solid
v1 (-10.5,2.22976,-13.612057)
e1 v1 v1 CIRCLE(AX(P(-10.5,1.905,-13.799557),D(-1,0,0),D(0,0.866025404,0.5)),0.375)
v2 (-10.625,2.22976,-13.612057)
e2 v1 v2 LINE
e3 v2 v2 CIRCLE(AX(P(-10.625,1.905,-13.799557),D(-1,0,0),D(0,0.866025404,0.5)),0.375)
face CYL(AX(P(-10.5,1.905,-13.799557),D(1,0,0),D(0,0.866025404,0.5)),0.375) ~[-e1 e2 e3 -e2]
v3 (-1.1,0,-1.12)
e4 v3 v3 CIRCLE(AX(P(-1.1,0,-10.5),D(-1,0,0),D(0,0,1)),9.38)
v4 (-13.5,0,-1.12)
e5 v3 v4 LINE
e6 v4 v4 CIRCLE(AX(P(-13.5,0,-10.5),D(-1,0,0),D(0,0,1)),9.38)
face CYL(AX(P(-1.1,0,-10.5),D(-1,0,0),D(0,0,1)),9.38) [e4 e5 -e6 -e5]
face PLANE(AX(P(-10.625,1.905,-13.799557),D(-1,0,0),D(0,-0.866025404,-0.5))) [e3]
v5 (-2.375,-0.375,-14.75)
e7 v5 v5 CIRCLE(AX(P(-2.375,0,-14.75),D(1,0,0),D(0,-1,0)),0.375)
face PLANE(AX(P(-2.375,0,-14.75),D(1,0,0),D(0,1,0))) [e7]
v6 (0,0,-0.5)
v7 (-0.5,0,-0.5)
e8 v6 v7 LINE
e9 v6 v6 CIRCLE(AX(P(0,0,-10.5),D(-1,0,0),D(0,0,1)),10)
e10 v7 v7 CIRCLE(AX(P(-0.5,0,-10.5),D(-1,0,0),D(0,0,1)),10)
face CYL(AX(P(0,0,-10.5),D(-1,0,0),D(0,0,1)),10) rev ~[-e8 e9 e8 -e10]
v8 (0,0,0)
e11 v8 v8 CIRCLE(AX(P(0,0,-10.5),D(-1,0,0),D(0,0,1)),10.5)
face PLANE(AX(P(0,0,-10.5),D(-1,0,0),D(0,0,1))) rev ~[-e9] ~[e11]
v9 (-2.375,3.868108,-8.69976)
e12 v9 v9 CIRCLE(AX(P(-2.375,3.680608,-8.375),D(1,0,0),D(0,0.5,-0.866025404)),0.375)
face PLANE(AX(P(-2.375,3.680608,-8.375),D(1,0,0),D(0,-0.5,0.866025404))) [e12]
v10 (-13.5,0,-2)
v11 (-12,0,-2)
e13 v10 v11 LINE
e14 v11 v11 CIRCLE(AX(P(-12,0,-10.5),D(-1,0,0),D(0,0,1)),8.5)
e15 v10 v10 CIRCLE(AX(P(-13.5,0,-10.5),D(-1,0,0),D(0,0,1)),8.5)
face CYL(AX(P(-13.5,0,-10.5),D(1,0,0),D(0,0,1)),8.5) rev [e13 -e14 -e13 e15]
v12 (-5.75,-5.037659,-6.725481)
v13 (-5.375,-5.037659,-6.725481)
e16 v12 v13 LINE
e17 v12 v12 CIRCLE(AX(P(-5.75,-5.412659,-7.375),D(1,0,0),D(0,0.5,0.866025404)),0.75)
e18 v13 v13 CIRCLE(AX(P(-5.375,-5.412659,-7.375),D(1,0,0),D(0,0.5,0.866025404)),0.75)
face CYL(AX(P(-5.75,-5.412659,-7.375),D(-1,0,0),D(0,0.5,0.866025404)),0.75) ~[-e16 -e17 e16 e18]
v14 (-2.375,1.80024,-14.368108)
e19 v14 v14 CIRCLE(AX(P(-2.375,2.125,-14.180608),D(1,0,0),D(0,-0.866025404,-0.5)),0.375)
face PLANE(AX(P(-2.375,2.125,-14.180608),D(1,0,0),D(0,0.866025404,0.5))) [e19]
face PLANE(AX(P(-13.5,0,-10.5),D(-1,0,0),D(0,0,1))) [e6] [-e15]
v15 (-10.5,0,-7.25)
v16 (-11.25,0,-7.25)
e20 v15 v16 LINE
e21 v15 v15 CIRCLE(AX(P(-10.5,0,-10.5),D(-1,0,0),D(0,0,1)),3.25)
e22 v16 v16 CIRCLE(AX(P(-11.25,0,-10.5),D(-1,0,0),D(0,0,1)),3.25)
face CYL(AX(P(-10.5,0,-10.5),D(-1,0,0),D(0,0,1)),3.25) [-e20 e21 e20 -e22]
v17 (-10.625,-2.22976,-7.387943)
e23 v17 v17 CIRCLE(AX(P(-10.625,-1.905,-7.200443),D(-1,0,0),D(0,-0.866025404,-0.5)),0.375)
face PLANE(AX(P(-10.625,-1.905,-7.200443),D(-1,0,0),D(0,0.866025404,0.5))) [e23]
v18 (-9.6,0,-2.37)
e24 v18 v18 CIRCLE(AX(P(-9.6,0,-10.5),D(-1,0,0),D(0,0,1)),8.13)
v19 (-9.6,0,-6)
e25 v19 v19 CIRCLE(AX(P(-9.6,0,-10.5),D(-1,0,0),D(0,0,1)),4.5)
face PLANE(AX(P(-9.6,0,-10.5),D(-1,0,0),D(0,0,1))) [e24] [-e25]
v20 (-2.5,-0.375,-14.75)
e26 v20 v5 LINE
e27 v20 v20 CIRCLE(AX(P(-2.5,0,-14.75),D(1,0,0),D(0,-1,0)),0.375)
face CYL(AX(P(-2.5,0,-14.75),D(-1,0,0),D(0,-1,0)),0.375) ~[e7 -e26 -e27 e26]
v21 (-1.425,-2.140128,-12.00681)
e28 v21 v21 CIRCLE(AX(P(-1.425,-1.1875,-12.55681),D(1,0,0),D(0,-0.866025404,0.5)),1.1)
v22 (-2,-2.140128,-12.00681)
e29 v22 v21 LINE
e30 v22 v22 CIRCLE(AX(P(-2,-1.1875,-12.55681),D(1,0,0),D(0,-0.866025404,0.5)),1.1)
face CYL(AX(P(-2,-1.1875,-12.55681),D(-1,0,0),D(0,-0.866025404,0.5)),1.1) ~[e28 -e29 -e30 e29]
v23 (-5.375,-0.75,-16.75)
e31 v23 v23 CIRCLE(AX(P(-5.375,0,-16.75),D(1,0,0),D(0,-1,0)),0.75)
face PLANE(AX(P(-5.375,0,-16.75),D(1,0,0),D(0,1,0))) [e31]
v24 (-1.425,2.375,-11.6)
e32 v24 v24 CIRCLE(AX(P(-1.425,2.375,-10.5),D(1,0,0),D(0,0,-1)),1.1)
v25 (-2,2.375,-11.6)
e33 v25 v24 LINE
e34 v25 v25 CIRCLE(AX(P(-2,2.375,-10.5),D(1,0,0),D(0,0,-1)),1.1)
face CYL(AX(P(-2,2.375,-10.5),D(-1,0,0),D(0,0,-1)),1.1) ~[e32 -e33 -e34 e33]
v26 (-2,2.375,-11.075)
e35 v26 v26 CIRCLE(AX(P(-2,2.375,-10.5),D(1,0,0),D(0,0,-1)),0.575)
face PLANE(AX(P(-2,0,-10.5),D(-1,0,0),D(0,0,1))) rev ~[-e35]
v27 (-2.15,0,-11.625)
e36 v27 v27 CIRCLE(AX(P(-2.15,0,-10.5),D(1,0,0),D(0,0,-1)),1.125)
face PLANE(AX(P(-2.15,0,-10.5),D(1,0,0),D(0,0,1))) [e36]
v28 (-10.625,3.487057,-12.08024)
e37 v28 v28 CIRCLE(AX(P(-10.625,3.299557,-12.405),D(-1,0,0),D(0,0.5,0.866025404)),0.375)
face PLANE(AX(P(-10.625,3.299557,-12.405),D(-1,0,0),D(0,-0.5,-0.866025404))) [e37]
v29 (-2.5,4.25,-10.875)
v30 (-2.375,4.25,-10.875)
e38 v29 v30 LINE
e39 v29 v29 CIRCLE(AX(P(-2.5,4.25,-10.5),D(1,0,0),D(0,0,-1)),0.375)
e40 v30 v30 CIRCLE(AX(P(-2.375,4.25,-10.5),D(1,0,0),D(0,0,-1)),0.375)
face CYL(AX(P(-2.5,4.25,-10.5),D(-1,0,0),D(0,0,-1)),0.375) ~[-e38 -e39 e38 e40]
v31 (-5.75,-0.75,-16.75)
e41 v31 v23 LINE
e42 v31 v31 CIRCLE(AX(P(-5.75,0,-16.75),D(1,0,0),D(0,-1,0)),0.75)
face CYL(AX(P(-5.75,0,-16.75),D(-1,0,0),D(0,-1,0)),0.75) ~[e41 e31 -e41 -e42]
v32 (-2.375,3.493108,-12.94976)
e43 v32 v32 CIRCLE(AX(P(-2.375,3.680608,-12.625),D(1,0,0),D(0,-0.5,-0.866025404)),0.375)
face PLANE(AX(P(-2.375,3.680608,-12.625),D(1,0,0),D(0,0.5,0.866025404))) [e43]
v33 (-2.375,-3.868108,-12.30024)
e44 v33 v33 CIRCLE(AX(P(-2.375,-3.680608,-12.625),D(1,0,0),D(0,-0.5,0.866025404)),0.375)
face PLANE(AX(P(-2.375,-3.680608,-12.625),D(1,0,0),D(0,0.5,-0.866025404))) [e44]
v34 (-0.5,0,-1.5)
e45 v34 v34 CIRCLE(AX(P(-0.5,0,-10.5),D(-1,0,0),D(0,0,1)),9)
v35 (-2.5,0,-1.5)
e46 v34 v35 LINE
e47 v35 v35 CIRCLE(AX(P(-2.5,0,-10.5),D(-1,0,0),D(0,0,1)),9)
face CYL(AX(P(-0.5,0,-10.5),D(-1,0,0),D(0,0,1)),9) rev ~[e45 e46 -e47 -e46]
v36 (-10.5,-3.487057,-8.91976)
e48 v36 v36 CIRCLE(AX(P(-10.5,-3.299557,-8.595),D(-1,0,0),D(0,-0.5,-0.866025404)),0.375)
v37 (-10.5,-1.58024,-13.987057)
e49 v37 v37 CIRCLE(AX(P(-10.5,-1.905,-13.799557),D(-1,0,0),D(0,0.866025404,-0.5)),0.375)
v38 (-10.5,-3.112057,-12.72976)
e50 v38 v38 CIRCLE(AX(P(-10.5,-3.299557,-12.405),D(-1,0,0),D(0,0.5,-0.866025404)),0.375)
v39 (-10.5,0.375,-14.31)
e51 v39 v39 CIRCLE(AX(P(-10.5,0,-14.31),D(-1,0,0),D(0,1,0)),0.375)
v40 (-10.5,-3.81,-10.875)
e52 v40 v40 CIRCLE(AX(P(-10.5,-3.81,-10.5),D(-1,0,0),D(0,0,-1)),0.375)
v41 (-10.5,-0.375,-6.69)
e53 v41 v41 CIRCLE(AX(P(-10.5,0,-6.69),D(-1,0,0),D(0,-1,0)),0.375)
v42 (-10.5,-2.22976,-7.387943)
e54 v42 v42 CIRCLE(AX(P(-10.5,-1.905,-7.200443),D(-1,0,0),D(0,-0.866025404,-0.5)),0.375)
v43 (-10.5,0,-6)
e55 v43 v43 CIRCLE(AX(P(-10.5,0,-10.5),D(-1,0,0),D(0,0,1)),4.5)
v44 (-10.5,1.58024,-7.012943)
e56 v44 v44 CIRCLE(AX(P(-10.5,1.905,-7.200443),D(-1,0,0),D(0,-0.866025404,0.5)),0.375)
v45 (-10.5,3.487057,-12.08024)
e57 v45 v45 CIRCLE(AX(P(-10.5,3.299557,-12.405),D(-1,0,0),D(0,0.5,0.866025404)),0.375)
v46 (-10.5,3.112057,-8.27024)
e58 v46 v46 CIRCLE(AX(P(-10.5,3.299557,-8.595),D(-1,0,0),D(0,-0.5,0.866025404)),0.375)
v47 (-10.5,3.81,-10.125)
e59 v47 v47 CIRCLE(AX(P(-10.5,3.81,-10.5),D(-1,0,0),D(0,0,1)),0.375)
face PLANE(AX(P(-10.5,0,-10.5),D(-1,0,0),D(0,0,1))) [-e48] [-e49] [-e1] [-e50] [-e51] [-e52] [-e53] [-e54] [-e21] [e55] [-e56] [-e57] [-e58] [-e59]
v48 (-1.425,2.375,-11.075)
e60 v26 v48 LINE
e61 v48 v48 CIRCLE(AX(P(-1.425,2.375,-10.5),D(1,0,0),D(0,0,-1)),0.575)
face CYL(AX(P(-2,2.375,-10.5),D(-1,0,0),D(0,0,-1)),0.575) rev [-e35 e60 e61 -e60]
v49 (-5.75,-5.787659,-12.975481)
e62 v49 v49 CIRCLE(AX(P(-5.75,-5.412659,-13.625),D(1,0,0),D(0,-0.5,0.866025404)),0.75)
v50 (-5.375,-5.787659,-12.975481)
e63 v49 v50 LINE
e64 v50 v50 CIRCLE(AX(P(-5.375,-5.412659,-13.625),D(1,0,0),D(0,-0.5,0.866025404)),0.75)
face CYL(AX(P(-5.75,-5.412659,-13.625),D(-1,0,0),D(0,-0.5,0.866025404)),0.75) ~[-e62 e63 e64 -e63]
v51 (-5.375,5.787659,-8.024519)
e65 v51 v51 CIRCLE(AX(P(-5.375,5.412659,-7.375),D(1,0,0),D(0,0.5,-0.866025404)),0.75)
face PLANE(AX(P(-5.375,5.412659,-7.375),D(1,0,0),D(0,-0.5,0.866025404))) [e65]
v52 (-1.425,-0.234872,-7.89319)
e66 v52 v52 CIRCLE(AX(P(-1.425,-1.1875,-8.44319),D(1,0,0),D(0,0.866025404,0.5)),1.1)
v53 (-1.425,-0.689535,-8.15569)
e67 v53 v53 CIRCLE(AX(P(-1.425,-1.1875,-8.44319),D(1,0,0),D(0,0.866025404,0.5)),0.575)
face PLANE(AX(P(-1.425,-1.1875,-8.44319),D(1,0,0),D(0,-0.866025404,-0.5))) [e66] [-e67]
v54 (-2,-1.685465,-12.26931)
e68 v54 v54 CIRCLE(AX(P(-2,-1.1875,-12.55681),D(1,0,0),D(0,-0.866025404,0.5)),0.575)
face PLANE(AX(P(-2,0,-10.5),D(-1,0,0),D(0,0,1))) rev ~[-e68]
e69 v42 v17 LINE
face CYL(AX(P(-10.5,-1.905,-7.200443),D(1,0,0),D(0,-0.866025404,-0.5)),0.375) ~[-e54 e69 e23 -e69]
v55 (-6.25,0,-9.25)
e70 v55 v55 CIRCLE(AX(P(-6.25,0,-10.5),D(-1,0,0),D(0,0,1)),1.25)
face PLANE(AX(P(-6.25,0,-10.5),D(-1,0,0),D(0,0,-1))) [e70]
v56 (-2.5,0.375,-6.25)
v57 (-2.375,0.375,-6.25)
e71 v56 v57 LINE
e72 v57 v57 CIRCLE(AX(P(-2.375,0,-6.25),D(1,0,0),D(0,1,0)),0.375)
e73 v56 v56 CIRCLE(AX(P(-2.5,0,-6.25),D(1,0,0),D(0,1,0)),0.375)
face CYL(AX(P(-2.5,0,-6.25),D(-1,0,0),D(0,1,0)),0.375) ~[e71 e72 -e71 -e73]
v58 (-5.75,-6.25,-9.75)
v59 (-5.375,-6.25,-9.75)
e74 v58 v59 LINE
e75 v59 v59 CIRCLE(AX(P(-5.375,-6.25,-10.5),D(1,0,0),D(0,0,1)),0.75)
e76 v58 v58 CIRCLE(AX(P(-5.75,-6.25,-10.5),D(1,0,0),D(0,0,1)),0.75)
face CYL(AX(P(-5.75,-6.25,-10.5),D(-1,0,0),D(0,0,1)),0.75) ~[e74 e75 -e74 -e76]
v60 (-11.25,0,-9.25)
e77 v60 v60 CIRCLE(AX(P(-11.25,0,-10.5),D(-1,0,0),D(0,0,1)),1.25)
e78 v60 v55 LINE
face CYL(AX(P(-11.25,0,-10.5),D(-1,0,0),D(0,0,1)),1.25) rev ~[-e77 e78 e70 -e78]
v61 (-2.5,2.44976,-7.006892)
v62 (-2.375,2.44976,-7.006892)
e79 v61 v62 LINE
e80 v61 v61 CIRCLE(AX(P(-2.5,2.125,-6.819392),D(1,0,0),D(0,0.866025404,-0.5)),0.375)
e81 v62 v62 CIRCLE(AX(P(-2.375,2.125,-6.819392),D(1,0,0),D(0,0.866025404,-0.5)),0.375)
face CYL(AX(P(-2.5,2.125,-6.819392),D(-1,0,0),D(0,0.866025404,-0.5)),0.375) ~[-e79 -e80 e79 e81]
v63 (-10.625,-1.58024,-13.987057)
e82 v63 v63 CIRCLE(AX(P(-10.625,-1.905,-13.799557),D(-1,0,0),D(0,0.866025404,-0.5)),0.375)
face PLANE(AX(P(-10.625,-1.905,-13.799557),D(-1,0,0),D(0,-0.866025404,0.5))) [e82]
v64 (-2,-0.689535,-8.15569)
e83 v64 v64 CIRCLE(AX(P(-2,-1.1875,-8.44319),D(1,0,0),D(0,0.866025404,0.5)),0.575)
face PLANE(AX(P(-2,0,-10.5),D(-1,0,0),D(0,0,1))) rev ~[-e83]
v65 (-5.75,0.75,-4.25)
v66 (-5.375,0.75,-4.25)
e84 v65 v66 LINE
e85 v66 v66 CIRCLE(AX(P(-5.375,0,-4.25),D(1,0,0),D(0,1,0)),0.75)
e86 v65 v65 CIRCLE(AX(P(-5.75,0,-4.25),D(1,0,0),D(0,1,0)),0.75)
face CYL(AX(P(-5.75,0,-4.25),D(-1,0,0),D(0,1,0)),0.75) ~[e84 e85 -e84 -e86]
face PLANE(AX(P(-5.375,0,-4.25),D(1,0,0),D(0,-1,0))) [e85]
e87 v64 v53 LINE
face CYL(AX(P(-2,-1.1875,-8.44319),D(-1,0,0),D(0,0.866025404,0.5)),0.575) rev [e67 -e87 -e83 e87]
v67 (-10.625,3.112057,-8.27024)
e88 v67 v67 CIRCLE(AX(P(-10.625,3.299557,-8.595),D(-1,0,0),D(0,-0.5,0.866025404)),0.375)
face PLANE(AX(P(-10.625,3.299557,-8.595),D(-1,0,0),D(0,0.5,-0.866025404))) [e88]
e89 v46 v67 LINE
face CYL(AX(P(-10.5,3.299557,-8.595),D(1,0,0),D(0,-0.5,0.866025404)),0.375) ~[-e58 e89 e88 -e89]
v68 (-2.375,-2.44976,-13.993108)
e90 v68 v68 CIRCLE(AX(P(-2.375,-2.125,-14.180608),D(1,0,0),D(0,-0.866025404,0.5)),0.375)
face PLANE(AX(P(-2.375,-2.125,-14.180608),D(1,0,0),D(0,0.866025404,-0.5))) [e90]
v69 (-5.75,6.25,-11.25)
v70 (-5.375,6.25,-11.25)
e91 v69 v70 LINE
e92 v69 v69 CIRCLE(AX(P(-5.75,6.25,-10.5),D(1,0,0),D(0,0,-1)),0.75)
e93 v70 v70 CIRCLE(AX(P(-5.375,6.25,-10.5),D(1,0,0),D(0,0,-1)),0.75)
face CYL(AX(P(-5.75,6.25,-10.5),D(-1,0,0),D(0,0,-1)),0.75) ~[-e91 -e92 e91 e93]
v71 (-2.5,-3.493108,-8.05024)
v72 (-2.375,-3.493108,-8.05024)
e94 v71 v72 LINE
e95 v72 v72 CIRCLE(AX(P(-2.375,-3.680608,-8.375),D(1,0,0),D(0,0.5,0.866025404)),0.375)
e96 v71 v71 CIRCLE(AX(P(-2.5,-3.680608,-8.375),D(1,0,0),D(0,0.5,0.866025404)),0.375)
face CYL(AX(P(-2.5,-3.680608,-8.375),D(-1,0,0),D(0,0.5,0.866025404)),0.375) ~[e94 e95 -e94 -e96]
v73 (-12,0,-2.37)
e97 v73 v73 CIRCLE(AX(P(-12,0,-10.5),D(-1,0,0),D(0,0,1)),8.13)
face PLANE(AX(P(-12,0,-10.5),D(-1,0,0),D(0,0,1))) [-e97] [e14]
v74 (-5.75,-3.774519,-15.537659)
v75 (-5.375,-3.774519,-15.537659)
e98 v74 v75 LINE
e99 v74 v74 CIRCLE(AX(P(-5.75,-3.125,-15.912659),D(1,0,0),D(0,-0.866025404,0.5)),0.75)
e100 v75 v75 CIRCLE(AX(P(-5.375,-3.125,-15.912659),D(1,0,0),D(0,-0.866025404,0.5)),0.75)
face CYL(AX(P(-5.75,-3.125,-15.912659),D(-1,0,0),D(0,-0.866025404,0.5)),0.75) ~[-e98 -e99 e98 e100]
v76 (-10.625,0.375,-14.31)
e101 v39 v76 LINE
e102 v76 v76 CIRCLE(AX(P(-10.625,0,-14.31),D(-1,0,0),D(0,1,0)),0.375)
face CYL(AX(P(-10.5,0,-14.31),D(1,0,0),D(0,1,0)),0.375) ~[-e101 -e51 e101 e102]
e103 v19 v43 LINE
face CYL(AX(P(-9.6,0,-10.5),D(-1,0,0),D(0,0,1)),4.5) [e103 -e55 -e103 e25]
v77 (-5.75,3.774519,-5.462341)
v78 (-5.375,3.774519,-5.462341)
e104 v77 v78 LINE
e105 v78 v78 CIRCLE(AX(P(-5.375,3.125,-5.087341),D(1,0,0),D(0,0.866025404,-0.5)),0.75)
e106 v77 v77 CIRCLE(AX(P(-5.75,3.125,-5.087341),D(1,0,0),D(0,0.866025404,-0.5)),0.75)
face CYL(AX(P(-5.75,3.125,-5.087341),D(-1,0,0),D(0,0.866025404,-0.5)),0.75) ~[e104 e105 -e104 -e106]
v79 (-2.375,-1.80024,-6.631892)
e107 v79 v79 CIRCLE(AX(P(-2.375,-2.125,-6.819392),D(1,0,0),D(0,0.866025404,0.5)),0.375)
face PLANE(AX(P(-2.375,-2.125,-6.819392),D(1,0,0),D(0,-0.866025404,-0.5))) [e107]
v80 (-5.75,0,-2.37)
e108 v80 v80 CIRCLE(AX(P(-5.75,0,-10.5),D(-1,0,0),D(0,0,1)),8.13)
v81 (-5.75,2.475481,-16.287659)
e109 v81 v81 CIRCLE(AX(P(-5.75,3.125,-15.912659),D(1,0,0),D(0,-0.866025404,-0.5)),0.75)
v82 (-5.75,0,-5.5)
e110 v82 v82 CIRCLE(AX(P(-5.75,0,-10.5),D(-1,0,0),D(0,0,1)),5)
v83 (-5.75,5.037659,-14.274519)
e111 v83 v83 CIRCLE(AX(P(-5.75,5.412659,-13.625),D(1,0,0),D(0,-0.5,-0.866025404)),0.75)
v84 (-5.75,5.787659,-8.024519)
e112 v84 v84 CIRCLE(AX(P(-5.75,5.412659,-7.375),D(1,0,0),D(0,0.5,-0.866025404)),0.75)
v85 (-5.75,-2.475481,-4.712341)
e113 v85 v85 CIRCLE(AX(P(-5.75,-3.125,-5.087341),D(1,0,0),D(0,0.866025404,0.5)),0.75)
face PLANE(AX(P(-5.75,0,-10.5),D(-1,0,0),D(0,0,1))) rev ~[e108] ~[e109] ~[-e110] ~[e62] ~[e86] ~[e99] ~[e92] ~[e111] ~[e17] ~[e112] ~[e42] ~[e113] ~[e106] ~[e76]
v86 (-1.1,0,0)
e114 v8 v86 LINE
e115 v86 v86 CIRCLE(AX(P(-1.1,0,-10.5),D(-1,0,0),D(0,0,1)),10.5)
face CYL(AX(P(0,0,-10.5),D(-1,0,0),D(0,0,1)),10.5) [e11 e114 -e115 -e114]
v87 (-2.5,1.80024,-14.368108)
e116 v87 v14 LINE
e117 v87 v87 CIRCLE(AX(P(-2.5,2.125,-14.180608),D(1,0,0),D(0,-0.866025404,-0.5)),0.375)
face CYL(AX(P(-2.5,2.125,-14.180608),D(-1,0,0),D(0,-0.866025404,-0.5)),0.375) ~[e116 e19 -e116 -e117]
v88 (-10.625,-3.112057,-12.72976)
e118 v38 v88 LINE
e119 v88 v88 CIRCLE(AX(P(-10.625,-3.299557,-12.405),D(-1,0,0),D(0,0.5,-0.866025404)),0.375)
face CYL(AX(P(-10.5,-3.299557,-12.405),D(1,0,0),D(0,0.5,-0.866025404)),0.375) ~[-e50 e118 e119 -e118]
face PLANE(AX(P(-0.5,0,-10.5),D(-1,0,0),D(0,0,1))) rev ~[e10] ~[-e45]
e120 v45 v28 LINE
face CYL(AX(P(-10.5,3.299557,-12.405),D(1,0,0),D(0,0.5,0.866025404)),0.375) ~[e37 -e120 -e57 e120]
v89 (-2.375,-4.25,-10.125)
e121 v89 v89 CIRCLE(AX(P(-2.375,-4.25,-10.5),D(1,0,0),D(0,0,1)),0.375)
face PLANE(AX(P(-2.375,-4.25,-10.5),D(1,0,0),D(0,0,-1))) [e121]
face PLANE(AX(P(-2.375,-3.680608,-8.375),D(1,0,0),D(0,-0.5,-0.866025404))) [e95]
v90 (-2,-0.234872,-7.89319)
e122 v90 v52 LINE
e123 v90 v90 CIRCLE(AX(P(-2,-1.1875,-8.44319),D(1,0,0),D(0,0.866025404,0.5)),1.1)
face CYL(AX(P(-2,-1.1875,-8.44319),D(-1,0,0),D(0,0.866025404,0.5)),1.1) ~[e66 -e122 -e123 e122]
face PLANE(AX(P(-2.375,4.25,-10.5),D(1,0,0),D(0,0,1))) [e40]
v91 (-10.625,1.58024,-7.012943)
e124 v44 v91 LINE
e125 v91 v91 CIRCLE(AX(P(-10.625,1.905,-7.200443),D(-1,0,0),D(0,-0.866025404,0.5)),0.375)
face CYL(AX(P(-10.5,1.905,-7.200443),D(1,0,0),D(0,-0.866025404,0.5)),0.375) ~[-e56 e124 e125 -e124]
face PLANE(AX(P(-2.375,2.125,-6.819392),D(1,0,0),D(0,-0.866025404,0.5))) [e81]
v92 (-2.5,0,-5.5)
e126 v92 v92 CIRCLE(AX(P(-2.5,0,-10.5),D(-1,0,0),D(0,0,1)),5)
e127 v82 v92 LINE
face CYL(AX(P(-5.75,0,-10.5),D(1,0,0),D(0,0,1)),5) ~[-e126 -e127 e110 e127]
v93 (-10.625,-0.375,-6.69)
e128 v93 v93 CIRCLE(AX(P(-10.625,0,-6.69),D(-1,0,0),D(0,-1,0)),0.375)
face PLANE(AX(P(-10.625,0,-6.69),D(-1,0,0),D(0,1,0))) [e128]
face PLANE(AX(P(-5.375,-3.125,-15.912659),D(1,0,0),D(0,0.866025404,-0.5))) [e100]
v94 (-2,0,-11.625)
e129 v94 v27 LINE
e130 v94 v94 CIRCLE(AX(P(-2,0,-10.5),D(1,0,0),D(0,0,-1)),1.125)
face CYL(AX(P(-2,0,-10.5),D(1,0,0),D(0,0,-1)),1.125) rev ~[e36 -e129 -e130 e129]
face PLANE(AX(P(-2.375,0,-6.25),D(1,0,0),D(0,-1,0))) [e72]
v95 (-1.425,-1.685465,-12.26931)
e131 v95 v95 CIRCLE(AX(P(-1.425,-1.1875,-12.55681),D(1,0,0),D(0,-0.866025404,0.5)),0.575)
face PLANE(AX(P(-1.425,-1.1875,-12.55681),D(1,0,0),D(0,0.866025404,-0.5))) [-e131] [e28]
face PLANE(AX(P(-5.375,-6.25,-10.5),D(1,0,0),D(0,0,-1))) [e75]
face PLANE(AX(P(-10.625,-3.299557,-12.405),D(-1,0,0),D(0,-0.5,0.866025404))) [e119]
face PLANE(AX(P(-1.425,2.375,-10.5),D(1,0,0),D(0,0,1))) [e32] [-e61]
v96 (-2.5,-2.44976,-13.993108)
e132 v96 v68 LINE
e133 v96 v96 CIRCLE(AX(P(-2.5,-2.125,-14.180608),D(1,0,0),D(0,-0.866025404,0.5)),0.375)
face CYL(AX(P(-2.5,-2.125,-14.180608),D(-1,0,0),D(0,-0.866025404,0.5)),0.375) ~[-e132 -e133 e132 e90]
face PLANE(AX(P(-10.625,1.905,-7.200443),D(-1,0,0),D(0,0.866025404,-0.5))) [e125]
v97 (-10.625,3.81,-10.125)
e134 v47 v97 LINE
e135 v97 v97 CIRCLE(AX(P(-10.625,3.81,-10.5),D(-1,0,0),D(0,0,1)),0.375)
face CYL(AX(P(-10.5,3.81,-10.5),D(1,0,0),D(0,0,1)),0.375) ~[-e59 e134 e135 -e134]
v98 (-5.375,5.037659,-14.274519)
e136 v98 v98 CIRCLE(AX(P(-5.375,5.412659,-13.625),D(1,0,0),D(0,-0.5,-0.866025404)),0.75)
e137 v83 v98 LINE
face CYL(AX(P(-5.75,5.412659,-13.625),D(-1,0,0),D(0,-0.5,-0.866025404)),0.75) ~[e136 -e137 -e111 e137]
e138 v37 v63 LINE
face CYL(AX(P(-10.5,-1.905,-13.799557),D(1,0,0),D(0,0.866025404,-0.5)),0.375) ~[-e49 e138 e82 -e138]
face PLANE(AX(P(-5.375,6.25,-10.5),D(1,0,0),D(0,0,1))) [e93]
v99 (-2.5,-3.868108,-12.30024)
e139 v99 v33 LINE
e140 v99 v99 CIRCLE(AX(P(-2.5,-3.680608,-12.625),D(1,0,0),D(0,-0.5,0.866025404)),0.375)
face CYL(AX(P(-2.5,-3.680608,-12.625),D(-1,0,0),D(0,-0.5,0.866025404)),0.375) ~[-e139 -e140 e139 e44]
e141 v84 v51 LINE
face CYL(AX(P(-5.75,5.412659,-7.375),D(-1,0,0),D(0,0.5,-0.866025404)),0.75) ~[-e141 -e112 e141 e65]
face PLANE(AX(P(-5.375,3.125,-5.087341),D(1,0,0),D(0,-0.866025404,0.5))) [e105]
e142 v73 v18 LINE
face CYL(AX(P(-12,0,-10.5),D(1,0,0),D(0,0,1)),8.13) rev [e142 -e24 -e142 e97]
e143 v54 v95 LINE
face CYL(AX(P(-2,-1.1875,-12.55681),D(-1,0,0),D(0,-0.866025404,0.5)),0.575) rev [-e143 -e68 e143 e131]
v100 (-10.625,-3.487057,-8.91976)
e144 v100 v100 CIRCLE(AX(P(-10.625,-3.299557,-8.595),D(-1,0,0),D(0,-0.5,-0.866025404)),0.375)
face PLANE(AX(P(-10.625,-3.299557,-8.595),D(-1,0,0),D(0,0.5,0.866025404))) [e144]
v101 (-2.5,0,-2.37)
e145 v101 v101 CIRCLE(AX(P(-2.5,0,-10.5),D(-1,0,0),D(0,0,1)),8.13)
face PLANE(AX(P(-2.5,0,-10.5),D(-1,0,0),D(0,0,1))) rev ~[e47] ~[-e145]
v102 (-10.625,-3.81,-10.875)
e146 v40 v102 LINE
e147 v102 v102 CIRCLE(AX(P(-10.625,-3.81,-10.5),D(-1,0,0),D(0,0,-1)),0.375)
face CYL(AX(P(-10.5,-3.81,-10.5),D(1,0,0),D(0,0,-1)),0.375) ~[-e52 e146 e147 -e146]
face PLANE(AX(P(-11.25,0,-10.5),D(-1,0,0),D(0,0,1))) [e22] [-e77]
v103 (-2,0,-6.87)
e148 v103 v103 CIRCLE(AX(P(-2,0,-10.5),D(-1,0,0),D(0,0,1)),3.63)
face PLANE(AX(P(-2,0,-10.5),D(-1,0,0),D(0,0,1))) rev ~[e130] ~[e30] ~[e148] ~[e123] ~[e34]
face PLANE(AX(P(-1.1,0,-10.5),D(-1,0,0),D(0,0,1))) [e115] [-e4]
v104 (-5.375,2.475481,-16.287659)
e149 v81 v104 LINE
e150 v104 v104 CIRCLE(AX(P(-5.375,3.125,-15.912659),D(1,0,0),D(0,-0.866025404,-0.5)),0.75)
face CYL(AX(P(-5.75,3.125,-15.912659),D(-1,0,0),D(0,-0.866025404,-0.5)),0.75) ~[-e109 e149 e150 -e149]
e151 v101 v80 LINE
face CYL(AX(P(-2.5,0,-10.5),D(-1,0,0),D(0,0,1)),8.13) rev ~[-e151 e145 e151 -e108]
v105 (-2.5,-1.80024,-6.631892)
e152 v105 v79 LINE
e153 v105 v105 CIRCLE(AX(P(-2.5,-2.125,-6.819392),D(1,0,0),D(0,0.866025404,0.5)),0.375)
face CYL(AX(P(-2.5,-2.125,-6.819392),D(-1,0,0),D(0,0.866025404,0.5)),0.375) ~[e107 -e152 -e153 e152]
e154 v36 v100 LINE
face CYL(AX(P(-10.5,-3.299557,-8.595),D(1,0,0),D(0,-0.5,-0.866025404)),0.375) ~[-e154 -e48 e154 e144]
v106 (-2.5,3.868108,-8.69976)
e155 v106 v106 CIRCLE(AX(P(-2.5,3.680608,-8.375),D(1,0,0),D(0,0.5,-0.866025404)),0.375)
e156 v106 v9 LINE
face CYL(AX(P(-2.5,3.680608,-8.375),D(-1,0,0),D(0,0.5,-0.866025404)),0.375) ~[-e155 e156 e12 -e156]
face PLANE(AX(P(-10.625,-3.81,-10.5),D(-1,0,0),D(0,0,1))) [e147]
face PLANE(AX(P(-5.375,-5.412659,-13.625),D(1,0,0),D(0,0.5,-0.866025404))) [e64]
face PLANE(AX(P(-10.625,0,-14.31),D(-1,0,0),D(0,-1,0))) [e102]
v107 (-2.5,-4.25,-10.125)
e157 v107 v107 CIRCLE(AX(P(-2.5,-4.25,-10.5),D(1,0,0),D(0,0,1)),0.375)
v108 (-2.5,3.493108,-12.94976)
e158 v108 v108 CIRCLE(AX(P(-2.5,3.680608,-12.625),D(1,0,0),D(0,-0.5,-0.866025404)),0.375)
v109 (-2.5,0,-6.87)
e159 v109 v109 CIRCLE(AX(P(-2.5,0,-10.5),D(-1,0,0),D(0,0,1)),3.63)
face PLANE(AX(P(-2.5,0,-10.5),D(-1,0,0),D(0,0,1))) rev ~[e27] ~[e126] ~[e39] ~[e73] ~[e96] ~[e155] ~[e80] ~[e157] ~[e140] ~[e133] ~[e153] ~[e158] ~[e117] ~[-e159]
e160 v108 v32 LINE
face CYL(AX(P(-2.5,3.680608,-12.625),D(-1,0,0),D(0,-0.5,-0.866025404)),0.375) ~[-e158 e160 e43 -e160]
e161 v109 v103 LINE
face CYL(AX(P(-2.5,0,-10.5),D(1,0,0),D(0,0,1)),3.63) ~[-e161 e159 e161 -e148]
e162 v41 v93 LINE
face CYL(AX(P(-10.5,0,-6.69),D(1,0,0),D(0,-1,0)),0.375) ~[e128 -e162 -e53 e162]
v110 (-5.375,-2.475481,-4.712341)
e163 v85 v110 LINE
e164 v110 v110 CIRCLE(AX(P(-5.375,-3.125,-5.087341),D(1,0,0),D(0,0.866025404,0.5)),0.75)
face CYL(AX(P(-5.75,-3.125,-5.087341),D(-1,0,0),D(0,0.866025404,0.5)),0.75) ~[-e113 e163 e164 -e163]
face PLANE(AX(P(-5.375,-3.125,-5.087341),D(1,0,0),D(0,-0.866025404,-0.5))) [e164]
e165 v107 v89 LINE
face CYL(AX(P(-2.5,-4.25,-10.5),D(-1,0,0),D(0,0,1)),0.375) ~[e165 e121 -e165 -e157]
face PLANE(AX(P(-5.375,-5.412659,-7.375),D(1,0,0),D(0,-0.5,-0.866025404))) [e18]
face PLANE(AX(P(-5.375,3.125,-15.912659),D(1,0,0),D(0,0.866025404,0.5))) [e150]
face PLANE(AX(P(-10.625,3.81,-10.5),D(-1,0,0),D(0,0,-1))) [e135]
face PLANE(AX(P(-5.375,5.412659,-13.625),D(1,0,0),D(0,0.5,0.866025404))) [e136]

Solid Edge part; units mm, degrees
sketch "Sketch1" plane through (0, 0, 0) normal (0, -1, 0) x (1, 0, 0)
  line L0 (-2, -10.5) -> (-11.25, -10.5)
  line L1 (-11.25, -7.25) -> (-11.25, -10.5)
  line L2 (-10.5, -7.25) -> (-11.25, -7.25)
  line L3 (-10.5, -6) -> (-10.5, -7.25)
  line L4 (-9.6, -6) -> (-10.5, -6)
  line L5 (-9.6, -2.37) -> (-9.6, -6)
  line L6 (-12, -2.37) -> (-9.6, -2.37)
  line L7 (-12, -2) -> (-12, -2.37)
  line L8 (-13.5, -2) -> (-12, -2)
  line L9 (-13.5, -1.12) -> (-13.5, -2)
  line L10 (-1.1, -1.12) -> (-13.5, -1.12)
  line L11 (-1.1, 0) -> (-1.1, -1.12)
  line L12 (0, 0) -> (-1.1, 0)
  line L13 (0, 0) -> (0, -0.5)
  line L14 (0, -0.5) -> (-0.5, -0.5)
  line L15 (-0.5, -0.5) -> (-0.5, -1.5)
  line L16 (-0.5, -1.5) -> (-2.5, -1.5)
  line L17 (-2.5, -1.5) -> (-2.5, -2.37)
  line L18 (-2.5, -2.37) -> (-5.75, -2.37)
  line L19 (-5.75, -2.37) -> (-5.75, -5.5)
  line L20 (-5.75, -5.5) -> (-2.5, -5.5)
  line L21 (-2.5, -5.5) -> (-2.5, -6.87)
  line L22 (-2.5, -6.87) -> (-2, -6.87)
  line L23 (-2, -6.87) -> (-2, -10.5)
revolve "RevolvedProtrusion1" add sketch "Sketch1" angle 360 about axis through (-2, 0, -10.5) along (-1, 0, 0)
sketch "Sketch2" plane through (-5.75, 0, -10.5) normal (1, 0, 0) x (0, 0, -1)
  circle A0 centre (0, 6.25) radius 0.75
extrude "Protrusion1" add sketch "Sketch2" along normal mid plane 0.75
pattern_circular "Pattern1" count 12 over 360 about axis through (-5.75, 0, -10.5) along (-1, 0, 0) of "Protrusion1"
sketch "Sketch3" plane through (-2.5, 0, -10.5) normal (1, 0, 0) x (0, 0, -1)
  circle A0 centre (0, 4.25) radius 0.375
extrude "ExtrudedProtrusion_2" add sketch "Sketch3" along normal mid plane 0.25
pattern_circular "Pattern3" count 12 over 360 about axis through (-2.5, 0, -10.5) along (-1, 0, 0) of "ExtrudedProtrusion_2"
sketch "Sketch4" plane through (-2, 0, -10.5) normal (1, 0, 0) x (0, 0, -1)
  circle A0 centre (0, 0) radius 1.125
  dimension "D1" = 2.25
extrude "ExtrudedCutout_1" cut sketch "Sketch4" against normal blind 0.15
sketch "Sketch5" plane through (-2, 0, -10.5) normal (1, 0, 0) x (0, 0, -1)
  circle A0 centre (0, 2.375) radius 1.1
  circle A1 centre (0, 2.375) radius 0.575
  dimension "D1" = 4.75
  dimension "D2" = 2.2
  dimension "D3" = 1.15
extrude "ExtrudedProtrusion_3" add sketch "Sketch5" along normal mid plane 1.15
pattern_circular "Pattern5" count 3 over 360 about axis through (-1.425, 0, -10.5) along (-1, 0, 0) of "ExtrudedProtrusion_3"
sketch "Sketch6" plane through (-10.5, 0, -10.5) normal (-1, 0, 0) x (0, 0, 1)
  circle A0 centre (0, 3.81) radius 0.375
extrude "ExtrudedProtrusion_4" add sketch "Sketch6" along normal mid plane 0.25
pattern_circular "Pattern7" count 12 over 360 about axis through (-10.5, 0, -10.5) along (1, 0, 0) of "ExtrudedProtrusion_4"
sketch "Sketch7" plane through (-11.25, 0, -10.5) normal (-1, 0, 0) x (0, 0, 1)
  circle A0 centre (0, 0) radius 1.25
  dimension "D1" = 2.5
extrude "ExtrudedCutout_2" cut sketch "Sketch7" against normal blind 5
properties material "Stainless Steel, 420"
